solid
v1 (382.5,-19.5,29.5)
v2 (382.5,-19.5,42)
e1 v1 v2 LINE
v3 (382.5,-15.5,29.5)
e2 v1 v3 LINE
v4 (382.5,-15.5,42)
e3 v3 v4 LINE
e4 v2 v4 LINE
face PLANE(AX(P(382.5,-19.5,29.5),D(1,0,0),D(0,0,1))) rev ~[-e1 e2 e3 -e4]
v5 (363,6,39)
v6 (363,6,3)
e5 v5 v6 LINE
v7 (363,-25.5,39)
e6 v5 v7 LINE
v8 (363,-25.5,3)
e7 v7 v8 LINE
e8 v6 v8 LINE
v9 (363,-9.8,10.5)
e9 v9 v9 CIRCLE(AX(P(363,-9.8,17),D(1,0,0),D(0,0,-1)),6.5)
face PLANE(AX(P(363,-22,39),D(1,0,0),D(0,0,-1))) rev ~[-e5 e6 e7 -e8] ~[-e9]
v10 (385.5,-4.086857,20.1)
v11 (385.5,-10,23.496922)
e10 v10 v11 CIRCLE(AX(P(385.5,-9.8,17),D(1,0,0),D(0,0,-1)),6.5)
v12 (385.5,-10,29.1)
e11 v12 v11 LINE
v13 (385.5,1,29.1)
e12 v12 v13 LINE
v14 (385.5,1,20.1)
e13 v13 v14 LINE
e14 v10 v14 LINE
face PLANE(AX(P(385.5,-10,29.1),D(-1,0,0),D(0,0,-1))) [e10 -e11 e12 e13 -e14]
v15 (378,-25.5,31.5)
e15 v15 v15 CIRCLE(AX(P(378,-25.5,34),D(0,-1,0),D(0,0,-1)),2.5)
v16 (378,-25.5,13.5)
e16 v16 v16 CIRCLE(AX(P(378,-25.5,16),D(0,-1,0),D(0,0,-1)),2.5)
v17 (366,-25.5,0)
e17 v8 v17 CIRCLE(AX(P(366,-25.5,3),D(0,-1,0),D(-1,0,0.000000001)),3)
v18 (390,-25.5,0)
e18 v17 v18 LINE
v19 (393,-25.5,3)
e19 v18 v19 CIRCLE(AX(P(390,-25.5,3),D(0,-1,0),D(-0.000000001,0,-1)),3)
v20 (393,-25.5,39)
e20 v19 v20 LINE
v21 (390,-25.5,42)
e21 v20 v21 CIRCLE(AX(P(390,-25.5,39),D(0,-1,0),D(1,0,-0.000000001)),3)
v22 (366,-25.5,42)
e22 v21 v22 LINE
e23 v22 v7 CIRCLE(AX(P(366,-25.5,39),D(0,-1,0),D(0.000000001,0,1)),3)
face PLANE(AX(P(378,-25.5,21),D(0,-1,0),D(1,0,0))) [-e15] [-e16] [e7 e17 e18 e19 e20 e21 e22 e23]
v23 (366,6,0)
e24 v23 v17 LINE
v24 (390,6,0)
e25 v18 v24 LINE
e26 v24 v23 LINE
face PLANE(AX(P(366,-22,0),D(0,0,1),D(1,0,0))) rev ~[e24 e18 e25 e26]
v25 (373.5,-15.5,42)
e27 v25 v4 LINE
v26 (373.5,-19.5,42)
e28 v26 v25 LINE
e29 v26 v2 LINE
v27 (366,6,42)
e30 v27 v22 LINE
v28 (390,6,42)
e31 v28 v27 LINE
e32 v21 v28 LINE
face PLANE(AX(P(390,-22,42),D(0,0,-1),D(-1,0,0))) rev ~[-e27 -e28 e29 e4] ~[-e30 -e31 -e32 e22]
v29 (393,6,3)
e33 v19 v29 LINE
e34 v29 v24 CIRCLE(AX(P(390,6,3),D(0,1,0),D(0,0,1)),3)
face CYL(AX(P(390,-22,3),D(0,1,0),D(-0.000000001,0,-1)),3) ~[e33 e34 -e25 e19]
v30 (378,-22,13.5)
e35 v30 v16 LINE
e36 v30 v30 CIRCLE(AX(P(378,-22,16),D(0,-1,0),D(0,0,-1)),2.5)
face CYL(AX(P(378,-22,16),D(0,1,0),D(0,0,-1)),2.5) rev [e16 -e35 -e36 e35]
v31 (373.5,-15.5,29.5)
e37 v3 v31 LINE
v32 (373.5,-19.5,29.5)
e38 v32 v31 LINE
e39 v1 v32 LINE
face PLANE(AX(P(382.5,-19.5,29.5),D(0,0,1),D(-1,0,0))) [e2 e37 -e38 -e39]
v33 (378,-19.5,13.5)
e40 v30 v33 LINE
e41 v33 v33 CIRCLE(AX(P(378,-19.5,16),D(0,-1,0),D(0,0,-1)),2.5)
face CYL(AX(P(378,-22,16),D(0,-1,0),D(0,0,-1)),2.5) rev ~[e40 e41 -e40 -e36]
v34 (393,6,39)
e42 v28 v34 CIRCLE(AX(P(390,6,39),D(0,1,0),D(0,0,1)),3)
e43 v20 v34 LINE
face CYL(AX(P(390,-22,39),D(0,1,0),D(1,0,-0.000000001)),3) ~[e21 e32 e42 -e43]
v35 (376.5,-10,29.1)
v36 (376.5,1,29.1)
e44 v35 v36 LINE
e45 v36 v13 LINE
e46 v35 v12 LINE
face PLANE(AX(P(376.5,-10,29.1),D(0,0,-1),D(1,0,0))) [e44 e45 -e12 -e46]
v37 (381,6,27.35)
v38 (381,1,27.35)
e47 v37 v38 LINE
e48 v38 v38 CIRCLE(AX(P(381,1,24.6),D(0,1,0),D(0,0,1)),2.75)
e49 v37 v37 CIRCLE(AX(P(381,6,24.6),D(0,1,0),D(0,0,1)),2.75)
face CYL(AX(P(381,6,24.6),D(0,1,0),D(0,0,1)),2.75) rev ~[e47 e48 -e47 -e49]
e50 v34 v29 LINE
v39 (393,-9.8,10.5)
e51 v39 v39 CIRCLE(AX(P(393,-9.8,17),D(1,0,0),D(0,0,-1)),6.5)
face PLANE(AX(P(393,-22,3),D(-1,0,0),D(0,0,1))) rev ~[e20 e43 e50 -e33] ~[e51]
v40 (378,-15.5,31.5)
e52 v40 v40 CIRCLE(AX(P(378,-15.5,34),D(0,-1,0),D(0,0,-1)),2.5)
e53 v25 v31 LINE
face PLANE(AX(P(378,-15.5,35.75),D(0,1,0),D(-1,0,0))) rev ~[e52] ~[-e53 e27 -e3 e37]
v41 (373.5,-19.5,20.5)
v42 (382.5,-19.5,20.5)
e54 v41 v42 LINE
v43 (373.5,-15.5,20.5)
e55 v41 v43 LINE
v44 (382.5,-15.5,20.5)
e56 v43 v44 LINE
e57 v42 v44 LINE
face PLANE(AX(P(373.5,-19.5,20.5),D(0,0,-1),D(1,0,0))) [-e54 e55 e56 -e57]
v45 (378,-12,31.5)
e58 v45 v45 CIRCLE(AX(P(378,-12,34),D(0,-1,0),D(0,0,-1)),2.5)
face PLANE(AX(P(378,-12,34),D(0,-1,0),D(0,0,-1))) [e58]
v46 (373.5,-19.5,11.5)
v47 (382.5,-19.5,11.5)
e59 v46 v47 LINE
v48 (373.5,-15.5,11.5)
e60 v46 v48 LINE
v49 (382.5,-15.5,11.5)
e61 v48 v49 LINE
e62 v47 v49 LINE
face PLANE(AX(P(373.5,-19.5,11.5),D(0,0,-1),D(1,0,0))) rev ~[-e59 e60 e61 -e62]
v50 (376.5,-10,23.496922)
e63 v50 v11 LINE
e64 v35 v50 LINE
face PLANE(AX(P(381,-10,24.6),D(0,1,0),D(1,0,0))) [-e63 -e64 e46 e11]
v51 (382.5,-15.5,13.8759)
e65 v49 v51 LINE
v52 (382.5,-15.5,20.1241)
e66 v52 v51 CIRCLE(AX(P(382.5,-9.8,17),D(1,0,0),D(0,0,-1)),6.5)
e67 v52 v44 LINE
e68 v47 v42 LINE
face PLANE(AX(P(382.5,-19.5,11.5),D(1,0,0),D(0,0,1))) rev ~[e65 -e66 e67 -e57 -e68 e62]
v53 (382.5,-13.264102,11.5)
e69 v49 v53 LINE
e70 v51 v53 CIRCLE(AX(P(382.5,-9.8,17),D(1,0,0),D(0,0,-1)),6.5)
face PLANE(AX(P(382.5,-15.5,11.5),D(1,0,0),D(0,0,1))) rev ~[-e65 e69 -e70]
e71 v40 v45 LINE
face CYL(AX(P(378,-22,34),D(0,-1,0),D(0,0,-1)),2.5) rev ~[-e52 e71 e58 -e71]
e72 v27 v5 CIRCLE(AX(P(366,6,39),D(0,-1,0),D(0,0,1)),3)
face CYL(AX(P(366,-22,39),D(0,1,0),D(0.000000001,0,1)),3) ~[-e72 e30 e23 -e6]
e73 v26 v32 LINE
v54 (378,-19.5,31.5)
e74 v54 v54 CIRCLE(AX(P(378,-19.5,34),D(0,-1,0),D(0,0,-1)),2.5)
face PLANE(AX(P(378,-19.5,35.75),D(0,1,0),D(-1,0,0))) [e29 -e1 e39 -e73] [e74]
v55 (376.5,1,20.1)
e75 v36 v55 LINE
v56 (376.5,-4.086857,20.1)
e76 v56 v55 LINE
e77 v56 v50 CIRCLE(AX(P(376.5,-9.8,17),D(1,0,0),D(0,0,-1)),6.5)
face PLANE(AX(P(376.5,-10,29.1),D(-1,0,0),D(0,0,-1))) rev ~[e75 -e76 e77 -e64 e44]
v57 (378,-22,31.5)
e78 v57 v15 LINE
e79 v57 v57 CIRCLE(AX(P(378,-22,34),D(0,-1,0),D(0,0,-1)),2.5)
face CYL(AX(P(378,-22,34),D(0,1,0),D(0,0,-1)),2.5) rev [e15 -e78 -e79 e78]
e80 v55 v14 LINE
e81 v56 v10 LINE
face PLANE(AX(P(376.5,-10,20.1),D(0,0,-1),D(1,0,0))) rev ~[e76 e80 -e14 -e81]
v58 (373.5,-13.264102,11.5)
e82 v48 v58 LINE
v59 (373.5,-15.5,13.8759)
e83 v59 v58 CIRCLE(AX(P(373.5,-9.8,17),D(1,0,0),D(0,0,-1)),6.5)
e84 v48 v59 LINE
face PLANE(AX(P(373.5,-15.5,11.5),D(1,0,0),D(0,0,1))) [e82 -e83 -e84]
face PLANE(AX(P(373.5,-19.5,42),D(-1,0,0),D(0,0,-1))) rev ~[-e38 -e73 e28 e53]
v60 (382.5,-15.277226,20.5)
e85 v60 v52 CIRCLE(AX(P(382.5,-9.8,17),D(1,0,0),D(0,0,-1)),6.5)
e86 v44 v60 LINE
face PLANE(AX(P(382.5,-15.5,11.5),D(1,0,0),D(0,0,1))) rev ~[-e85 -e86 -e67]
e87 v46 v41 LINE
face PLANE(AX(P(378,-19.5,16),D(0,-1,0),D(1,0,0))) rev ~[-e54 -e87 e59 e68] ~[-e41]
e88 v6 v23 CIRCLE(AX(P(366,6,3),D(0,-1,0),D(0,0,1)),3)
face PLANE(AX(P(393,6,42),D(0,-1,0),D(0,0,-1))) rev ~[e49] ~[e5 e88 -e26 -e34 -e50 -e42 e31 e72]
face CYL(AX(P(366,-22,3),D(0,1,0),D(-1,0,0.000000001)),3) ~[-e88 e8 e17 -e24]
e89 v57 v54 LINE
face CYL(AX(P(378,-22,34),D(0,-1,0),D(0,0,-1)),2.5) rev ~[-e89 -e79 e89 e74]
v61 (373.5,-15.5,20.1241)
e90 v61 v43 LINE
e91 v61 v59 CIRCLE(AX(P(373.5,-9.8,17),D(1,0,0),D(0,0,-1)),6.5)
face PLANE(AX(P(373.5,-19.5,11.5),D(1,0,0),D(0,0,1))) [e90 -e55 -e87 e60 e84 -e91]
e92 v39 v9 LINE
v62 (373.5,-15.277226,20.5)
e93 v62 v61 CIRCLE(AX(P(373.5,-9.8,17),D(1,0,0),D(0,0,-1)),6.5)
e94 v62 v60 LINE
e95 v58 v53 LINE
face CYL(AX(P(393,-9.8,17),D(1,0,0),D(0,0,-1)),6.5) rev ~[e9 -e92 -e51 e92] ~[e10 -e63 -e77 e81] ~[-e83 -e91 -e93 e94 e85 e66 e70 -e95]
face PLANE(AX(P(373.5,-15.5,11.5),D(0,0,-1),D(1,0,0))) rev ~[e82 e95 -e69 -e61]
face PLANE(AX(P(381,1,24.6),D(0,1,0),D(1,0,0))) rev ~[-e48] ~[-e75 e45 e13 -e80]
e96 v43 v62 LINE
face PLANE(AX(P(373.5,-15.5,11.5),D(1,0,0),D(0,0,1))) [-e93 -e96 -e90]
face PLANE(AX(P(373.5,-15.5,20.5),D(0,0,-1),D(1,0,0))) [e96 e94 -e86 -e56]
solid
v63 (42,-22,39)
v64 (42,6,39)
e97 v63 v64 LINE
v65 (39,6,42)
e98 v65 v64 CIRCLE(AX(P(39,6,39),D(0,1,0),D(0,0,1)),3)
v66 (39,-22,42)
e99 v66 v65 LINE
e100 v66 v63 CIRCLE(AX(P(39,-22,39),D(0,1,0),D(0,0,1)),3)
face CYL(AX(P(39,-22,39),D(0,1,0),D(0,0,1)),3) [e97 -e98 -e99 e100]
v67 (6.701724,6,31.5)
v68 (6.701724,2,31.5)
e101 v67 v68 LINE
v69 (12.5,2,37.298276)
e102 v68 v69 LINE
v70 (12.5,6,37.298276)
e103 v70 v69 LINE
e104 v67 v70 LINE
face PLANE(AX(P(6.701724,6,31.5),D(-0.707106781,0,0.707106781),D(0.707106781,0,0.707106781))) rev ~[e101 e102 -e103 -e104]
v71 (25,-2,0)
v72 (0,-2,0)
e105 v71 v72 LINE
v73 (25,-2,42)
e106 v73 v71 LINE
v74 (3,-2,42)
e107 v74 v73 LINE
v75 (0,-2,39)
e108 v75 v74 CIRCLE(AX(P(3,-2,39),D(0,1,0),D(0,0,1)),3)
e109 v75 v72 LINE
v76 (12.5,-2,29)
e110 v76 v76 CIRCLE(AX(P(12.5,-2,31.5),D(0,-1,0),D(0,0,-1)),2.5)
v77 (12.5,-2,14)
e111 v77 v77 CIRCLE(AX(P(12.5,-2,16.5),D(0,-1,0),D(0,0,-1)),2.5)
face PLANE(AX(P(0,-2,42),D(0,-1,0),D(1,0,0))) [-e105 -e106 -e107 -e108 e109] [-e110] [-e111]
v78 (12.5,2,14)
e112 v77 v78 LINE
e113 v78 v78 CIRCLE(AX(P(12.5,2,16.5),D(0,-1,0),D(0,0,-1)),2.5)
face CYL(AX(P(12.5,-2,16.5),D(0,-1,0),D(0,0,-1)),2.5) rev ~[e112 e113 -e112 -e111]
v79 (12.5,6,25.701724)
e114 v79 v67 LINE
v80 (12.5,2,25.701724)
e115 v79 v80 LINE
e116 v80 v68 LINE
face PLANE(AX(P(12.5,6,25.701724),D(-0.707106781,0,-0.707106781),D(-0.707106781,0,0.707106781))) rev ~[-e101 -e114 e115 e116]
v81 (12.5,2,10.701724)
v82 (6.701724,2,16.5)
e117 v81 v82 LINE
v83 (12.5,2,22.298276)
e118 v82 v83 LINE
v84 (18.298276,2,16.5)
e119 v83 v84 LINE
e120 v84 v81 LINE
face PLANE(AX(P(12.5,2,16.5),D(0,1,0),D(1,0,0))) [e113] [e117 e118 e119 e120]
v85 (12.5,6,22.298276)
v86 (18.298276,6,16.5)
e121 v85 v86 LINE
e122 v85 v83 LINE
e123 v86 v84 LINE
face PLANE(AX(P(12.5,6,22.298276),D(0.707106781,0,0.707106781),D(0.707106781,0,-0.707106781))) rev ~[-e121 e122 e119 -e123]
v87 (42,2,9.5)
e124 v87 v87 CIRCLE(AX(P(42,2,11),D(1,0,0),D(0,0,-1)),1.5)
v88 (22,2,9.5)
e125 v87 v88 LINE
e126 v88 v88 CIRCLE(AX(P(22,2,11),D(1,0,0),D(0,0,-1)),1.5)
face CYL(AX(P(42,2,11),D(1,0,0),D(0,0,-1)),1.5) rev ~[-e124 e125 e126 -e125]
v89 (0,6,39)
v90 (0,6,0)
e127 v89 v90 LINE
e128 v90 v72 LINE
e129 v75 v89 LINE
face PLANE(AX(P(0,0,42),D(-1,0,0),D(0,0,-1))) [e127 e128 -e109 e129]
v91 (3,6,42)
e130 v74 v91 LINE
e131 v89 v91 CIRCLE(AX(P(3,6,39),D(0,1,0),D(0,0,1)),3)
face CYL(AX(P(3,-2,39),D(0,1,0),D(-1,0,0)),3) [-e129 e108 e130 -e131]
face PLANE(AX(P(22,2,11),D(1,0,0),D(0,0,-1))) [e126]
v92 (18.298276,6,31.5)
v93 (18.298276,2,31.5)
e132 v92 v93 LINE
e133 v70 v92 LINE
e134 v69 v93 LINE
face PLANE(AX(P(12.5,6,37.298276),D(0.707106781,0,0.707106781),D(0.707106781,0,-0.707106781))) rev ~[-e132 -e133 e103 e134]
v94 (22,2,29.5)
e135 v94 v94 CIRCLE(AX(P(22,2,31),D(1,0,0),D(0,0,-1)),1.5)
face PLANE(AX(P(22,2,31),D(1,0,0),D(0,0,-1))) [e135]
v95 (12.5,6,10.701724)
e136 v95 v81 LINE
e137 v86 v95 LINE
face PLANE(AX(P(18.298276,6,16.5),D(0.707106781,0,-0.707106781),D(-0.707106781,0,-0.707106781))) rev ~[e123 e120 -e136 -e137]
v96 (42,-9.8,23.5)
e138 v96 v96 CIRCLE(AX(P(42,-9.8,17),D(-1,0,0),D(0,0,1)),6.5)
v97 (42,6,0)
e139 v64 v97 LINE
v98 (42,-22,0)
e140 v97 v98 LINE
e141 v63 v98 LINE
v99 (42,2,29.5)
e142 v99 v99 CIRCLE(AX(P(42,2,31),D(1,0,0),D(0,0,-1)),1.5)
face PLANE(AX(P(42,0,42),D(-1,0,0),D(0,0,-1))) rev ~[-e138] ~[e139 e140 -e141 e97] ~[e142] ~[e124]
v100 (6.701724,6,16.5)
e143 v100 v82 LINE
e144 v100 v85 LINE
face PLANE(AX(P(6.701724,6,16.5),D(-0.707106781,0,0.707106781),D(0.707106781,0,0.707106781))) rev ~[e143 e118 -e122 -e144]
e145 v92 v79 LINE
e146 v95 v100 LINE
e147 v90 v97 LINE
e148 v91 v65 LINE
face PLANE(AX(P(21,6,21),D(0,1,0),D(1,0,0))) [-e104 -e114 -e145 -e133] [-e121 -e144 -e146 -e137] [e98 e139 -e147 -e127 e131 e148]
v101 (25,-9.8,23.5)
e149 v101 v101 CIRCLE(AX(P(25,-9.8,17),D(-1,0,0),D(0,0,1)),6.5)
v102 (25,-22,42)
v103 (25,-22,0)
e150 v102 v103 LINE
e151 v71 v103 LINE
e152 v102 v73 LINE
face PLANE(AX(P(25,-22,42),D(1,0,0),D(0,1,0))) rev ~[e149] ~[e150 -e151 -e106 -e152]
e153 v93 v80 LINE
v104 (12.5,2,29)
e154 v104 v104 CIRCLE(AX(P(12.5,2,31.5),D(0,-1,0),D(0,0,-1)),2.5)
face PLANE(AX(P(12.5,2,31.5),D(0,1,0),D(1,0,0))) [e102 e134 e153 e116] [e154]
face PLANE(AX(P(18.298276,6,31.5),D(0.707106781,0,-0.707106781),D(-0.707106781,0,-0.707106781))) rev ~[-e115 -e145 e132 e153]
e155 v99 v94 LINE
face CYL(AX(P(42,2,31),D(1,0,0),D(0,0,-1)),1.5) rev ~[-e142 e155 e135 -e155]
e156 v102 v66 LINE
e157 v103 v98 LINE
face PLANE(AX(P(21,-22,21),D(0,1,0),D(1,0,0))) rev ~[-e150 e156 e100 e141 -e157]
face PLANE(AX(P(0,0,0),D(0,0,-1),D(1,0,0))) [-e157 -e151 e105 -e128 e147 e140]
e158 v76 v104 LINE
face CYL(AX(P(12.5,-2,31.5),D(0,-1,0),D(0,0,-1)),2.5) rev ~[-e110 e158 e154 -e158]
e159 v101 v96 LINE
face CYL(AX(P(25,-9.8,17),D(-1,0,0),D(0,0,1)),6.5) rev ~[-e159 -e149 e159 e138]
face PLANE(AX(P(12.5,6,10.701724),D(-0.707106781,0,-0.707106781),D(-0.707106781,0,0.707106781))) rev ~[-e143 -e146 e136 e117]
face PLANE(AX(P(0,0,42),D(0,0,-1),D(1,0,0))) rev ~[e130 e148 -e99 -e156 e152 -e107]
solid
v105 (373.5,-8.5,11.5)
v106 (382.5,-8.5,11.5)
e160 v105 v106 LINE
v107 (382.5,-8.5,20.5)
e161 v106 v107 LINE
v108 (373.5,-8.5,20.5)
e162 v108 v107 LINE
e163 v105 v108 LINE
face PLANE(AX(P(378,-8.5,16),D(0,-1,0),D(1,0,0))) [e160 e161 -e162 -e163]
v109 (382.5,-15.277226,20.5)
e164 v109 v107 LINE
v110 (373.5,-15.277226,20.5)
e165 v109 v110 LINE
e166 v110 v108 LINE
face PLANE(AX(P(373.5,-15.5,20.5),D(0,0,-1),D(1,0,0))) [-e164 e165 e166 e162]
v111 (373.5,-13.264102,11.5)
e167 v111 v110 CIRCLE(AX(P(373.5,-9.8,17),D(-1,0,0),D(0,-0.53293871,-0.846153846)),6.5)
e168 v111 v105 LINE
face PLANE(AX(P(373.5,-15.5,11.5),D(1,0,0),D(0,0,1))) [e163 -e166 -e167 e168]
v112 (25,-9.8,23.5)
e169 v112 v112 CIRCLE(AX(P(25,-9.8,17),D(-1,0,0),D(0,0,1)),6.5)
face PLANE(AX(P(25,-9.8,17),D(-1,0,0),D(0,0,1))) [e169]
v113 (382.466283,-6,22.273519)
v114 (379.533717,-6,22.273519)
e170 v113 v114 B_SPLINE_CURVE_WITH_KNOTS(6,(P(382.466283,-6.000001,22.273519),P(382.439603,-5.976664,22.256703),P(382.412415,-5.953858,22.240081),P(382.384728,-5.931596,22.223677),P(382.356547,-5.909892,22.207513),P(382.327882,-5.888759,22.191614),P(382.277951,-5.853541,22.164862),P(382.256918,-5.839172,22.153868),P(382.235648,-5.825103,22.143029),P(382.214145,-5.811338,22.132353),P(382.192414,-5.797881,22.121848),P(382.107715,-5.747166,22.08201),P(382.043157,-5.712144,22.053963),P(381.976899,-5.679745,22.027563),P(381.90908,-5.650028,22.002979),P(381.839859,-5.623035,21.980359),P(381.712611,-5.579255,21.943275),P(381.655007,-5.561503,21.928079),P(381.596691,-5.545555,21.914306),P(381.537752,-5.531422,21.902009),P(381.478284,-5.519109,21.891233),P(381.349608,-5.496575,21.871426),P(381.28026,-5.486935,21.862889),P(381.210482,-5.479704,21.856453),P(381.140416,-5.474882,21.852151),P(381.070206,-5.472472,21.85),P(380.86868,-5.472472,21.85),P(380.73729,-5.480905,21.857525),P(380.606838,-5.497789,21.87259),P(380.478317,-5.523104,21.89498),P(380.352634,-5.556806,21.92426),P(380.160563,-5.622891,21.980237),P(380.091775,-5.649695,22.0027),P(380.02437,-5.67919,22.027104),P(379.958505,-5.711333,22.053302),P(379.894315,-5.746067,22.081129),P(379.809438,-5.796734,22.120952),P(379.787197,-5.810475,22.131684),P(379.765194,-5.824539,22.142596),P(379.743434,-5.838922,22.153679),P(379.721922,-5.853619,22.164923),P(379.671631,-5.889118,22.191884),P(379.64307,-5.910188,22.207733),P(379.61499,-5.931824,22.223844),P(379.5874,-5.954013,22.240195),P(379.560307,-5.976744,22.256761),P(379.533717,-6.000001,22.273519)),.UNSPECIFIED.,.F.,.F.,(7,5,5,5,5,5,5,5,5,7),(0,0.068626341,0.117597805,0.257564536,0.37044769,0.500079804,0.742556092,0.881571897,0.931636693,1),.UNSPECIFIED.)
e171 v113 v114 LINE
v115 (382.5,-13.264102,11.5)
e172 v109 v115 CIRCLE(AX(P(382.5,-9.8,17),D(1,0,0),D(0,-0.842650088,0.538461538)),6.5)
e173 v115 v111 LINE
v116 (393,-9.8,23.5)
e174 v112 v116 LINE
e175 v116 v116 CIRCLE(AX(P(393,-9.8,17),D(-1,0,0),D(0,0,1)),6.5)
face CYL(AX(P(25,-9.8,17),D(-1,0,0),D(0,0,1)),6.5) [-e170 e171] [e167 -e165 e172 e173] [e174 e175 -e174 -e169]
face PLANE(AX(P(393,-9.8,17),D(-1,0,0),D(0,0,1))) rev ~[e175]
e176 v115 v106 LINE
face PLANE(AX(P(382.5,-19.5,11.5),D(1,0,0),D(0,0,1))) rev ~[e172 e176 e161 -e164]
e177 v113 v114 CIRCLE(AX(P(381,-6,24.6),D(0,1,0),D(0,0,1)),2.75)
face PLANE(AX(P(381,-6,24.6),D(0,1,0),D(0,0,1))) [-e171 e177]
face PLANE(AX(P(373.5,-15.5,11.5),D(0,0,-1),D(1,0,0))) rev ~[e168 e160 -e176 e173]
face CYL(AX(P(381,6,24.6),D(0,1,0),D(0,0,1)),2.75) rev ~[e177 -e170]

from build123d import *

# Parameters (mm, degrees)
SKETCH2_W                = 42
SKETCH2_H                = 42
BOSS_EXTRUDE1_DEPTH      = 22
SKETCH3_W                = 42
SKETCH3_H                = 42
BOSS_EXTRUDE2_DEPTH      = 6
BOSS_EXTRUDE3_START      = -25
SKETCH4_R                = 6.5
BOSS_EXTRUDE3_DEPTH      = 368
CUT_EXTRUDE6_START       = -25
SKETCH4_3_R              = 6.5
CUT_EXTRUDE6_DEPTH       = 17
SKETCH8_W                = 42
SKETCH8_H                = 28
SKETCH8_R                = 6.5
BOSS_EXTRUDE5_DEPTH      = 30
SKETCH11_W               = 25
SKETCH11_H               = 20
CUT_EXTRUDE9_DEPTH       = 50
SKETCH10_R               = 2.75
CUT_EXTRUDE8_DEPTH       = 12
FILLET2_R                = 3
FILLET1_R                = 3
SKETCH12_R               = 2.5
CUT_EXTRUDE10_DEPTH      = 20
CUT_EXTRUDE11_DEPTH      = 4
SKETCH14_R               = 2.5
CUT_EXTRUDE12_DEPTH      = 10
SKETCH15_R               = 1.5
CUT_EXTRUDE13_DEPTH      = 20
SKETCH16_R               = 2.5
BOSS_EXTRUDE6_DEPTH      = 3.5
CUT_EXTRUDE14_START      = -6
SKETCH18_W               = 9
SKETCH18_H               = 9
CUT_EXTRUDE14_DEPTH      = 4
SKETCH19_W               = 9
SKETCH19_H               = 9
CUT_EXTRUDE15_DEPTH      = 7
CUT_EXTRUDE16_DEPTH      = 7
CUT_EXTRUDE16_DEPTH_BACK = 4
SKETCH20_W               = 9
SKETCH20_H               = 9


with BuildPart() as part:
    # Sketch2 → Boss-Extrude1 (new body)
    with BuildSketch(Plane(origin=(0, 0, 0), x_dir=(1, 0, 0), z_dir=(0, 1, 0))):
        with Locations((21, -21)):
            Rectangle(SKETCH2_W, SKETCH2_H)
    extrude(amount=-BOSS_EXTRUDE1_DEPTH)

    # Sketch3 → Boss-Extrude2 (add)
    with BuildSketch(Plane(origin=(0, 0, 0), x_dir=(1, 0, 0), z_dir=(0, 1, 0))):
        with Locations((21, -21)):
            Rectangle(SKETCH3_W, SKETCH3_H)
    extrude(amount=BOSS_EXTRUDE2_DEPTH)

    # Sketch4<3> → Cut-Extrude6 (cut)
    with BuildSketch(Plane.ZY.offset(CUT_EXTRUDE6_START)):
        with Locations((17, -9.8)):
            Circle(SKETCH4_3_R)
    extrude(amount=-CUT_EXTRUDE6_DEPTH, mode=Mode.SUBTRACT)

    # Sketch11 → Cut-Extrude9 (cut)
    with BuildSketch(Plane.XY.offset(42)):
        with Locations((12.5, -12)):
            Rectangle(SKETCH11_W, SKETCH11_H)
    extrude(amount=-CUT_EXTRUDE9_DEPTH, mode=Mode.SUBTRACT)

    # Fillet1
    fillet1_edges = [part.edges().sort_by_distance(p)[0] for p in [
        (0, 2, 42),
        (42, -8, 42),
    ]]
    fillet(fillet1_edges, radius=FILLET1_R)

    # Sketch12 → Cut-Extrude10 (cut)
    with BuildSketch(Plane.XZ.offset(2)):
        with Locations(Location((12.5, 31.5, 0), (0, 0, 270))):
            Circle(SKETCH12_R)
        with Locations(Location((12.5, 16.5, 0), (0, 0, 270))):
            Circle(SKETCH12_R)
    extrude(amount=-CUT_EXTRUDE10_DEPTH, mode=Mode.SUBTRACT)

    # Sketch13 → Cut-Extrude11 (cut)
    with BuildSketch(Plane(origin=(0, 6, 0), x_dir=(1, 0, 0), z_dir=(0, 1, 0))):
        Polygon((6.701724394, -31.5), (12.5, -37.298275606), (18.298275606, -31.5), (12.5, -25.701724394), align=None)
        Polygon((6.701724394, -16.5), (12.5, -22.298275606), (18.298275606, -16.5), (12.5, -10.701724394), align=None)
    extrude(amount=-CUT_EXTRUDE11_DEPTH, mode=Mode.SUBTRACT)

    # Sketch15 → Cut-Extrude13 (cut)
    with BuildSketch(Plane(origin=(42, 0, 0), x_dir=(0, 0, -1), z_dir=(1, 0, 0))):
        with Locations((-31, 2)):
            Circle(SKETCH15_R)
        with Locations((-11, 2)):
            Circle(SKETCH15_R)
    extrude(amount=-CUT_EXTRUDE13_DEPTH, mode=Mode.SUBTRACT)


with BuildPart() as body_2:
    # Sketch4 → Boss-Extrude3 (new body)
    with BuildSketch(Plane.ZY.offset(BOSS_EXTRUDE3_START)):
        with Locations((17, -9.8)):
            Circle(SKETCH4_R)
    extrude(amount=-BOSS_EXTRUDE3_DEPTH)


with BuildPart() as body_3:
    # Sketch8 → Boss-Extrude5 (new body)
    with BuildSketch(Plane(origin=(393, 0, 0), x_dir=(0, 0, -1), z_dir=(1, 0, 0))):
        with Locations((-21, -8)):
            Rectangle(SKETCH8_W, SKETCH8_H)
        with Locations((-17, -9.8)):
            Circle(SKETCH8_R, mode=Mode.SUBTRACT)
    extrude(amount=-BOSS_EXTRUDE5_DEPTH)


with BuildPart() as cut_extrude8_tool:
    # Sketch10 → Cut-Extrude8 (new body)
    with BuildSketch(Plane(origin=(0, 6, 0), x_dir=(1, 0, 0), z_dir=(0, 1, 0))):
        with Locations(Location((381, -24.6, 0), (0, 0, 270))):
            Circle(SKETCH10_R)
    extrude(amount=-CUT_EXTRUDE8_DEPTH)


with BuildPart() as body_2_1:
    add(body_2.part)

    # Cut-Extrude8: cut by cut_extrude8_tool
    add(cut_extrude8_tool.part, mode=Mode.SUBTRACT)


with BuildPart() as body_3_1:
    add(body_3.part)

    # Cut-Extrude8: cut by cut_extrude8_tool
    add(cut_extrude8_tool.part, mode=Mode.SUBTRACT)

    # Fillet2
    fillet2_edges = [body_3_1.edges().sort_by_distance(p)[0] for p in [
        (363, -8, 42),
        (393, -8, 42),
        (393, -8, 0),
        (363, -8, 0),
    ]]
    fillet(fillet2_edges, radius=FILLET2_R)


with BuildPart() as cut_extrude12_tool:
    # Sketch14 → Cut-Extrude12 (new body)
    with BuildSketch(Plane.XZ.offset(22)):
        with Locations(Location((378, 34, 0), (0, 0, 270))):
            Circle(SKETCH14_R)
        with Locations(Location((378, 16, 0), (0, 0, 270))):
            Circle(SKETCH14_R)
    extrude(amount=-CUT_EXTRUDE12_DEPTH)


with BuildPart() as body_2_2:
    add(body_2_1.part)

    # Cut-Extrude12: cut by cut_extrude12_tool
    add(cut_extrude12_tool.part, mode=Mode.SUBTRACT)


with BuildPart() as body_3_2:
    add(body_3_1.part)

    # Cut-Extrude12: cut by cut_extrude12_tool
    add(cut_extrude12_tool.part, mode=Mode.SUBTRACT)

    # Sketch16 → Boss-Extrude6 (add)
    with BuildSketch(Plane.XZ.offset(22)):
        with BuildLine():
            Line((390, 42), (366, 42))
            ThreePointArc((366, 42), (363.878679656, 41.121320344), (363, 39))
            Line((363, 39), (363, 3))
            ThreePointArc((363, 3), (363.878679656, 0.878679656), (366, 0))
            Line((366, 0), (390, 0))
            ThreePointArc((390, 0), (392.121320344, 0.878679656), (393, 3))
            Line((393, 3), (393, 39))
            ThreePointArc((393, 39), (392.121320344, 41.121320344), (390, 42))
        make_face()
        with Locations(Location((378, 16, 0), (0, 0, 270))):
            Circle(SKETCH16_R, mode=Mode.SUBTRACT)
        with Locations(Location((378, 34, 0), (0, 0, 270))):
            Circle(SKETCH16_R, mode=Mode.SUBTRACT)
    extrude(amount=BOSS_EXTRUDE6_DEPTH)


with BuildPart() as cut_extrude14_tool:
    # Sketch18 → Cut-Extrude14 (new body)
    with BuildSketch(Plane.XZ.offset(25.5).offset(CUT_EXTRUDE14_START)):
        Polygon((373.5, 38.5), (373.5, 42), (382.5, 42), (382.5, 38.5), (382.5, 29.5), (373.5, 29.5), align=None)
        with Locations((378, 16)):
            Rectangle(SKETCH18_W, SKETCH18_H)
    extrude(amount=-CUT_EXTRUDE14_DEPTH)


with BuildPart() as body_2_3:
    add(body_2_2.part)

    # Cut-Extrude14: cut by cut_extrude14_tool
    add(cut_extrude14_tool.part, mode=Mode.SUBTRACT)


with BuildPart() as body_3_3:
    add(body_3_2.part)

    # Cut-Extrude14: cut by cut_extrude14_tool
    add(cut_extrude14_tool.part, mode=Mode.SUBTRACT)


with BuildPart() as cut_extrude15_tool:
    # Sketch19 → Cut-Extrude15 (new body)
    with BuildSketch(Plane.XZ.offset(15.5)):
        with Locations((378, 16)):
            Rectangle(SKETCH19_W, SKETCH19_H)
    extrude(amount=-CUT_EXTRUDE15_DEPTH)


with BuildPart() as body_2_4:
    add(body_2_3.part)

    # Cut-Extrude15: cut by cut_extrude15_tool
    add(cut_extrude15_tool.part, mode=Mode.SUBTRACT)


with BuildPart() as body_3_4:
    add(body_3_3.part)

    # Cut-Extrude15: cut by cut_extrude15_tool
    add(cut_extrude15_tool.part, mode=Mode.SUBTRACT)

    # Sketch20 → Cut-Extrude16 (cut, two sides: drawn at the far end of the back side and taken through both)
    with BuildSketch(Plane(origin=(0, -6, 0), x_dir=(1, 0, 0), z_dir=(0, 1, 0)).offset(-CUT_EXTRUDE16_DEPTH_BACK)):
        with Locations((381, -24.6)):
            Rectangle(SKETCH20_W, SKETCH20_H)
    extrude(amount=CUT_EXTRUDE16_DEPTH + CUT_EXTRUDE16_DEPTH_BACK, mode=Mode.SUBTRACT)


solid = Compound([part.part, body_2_4.part, body_3_4.part])
